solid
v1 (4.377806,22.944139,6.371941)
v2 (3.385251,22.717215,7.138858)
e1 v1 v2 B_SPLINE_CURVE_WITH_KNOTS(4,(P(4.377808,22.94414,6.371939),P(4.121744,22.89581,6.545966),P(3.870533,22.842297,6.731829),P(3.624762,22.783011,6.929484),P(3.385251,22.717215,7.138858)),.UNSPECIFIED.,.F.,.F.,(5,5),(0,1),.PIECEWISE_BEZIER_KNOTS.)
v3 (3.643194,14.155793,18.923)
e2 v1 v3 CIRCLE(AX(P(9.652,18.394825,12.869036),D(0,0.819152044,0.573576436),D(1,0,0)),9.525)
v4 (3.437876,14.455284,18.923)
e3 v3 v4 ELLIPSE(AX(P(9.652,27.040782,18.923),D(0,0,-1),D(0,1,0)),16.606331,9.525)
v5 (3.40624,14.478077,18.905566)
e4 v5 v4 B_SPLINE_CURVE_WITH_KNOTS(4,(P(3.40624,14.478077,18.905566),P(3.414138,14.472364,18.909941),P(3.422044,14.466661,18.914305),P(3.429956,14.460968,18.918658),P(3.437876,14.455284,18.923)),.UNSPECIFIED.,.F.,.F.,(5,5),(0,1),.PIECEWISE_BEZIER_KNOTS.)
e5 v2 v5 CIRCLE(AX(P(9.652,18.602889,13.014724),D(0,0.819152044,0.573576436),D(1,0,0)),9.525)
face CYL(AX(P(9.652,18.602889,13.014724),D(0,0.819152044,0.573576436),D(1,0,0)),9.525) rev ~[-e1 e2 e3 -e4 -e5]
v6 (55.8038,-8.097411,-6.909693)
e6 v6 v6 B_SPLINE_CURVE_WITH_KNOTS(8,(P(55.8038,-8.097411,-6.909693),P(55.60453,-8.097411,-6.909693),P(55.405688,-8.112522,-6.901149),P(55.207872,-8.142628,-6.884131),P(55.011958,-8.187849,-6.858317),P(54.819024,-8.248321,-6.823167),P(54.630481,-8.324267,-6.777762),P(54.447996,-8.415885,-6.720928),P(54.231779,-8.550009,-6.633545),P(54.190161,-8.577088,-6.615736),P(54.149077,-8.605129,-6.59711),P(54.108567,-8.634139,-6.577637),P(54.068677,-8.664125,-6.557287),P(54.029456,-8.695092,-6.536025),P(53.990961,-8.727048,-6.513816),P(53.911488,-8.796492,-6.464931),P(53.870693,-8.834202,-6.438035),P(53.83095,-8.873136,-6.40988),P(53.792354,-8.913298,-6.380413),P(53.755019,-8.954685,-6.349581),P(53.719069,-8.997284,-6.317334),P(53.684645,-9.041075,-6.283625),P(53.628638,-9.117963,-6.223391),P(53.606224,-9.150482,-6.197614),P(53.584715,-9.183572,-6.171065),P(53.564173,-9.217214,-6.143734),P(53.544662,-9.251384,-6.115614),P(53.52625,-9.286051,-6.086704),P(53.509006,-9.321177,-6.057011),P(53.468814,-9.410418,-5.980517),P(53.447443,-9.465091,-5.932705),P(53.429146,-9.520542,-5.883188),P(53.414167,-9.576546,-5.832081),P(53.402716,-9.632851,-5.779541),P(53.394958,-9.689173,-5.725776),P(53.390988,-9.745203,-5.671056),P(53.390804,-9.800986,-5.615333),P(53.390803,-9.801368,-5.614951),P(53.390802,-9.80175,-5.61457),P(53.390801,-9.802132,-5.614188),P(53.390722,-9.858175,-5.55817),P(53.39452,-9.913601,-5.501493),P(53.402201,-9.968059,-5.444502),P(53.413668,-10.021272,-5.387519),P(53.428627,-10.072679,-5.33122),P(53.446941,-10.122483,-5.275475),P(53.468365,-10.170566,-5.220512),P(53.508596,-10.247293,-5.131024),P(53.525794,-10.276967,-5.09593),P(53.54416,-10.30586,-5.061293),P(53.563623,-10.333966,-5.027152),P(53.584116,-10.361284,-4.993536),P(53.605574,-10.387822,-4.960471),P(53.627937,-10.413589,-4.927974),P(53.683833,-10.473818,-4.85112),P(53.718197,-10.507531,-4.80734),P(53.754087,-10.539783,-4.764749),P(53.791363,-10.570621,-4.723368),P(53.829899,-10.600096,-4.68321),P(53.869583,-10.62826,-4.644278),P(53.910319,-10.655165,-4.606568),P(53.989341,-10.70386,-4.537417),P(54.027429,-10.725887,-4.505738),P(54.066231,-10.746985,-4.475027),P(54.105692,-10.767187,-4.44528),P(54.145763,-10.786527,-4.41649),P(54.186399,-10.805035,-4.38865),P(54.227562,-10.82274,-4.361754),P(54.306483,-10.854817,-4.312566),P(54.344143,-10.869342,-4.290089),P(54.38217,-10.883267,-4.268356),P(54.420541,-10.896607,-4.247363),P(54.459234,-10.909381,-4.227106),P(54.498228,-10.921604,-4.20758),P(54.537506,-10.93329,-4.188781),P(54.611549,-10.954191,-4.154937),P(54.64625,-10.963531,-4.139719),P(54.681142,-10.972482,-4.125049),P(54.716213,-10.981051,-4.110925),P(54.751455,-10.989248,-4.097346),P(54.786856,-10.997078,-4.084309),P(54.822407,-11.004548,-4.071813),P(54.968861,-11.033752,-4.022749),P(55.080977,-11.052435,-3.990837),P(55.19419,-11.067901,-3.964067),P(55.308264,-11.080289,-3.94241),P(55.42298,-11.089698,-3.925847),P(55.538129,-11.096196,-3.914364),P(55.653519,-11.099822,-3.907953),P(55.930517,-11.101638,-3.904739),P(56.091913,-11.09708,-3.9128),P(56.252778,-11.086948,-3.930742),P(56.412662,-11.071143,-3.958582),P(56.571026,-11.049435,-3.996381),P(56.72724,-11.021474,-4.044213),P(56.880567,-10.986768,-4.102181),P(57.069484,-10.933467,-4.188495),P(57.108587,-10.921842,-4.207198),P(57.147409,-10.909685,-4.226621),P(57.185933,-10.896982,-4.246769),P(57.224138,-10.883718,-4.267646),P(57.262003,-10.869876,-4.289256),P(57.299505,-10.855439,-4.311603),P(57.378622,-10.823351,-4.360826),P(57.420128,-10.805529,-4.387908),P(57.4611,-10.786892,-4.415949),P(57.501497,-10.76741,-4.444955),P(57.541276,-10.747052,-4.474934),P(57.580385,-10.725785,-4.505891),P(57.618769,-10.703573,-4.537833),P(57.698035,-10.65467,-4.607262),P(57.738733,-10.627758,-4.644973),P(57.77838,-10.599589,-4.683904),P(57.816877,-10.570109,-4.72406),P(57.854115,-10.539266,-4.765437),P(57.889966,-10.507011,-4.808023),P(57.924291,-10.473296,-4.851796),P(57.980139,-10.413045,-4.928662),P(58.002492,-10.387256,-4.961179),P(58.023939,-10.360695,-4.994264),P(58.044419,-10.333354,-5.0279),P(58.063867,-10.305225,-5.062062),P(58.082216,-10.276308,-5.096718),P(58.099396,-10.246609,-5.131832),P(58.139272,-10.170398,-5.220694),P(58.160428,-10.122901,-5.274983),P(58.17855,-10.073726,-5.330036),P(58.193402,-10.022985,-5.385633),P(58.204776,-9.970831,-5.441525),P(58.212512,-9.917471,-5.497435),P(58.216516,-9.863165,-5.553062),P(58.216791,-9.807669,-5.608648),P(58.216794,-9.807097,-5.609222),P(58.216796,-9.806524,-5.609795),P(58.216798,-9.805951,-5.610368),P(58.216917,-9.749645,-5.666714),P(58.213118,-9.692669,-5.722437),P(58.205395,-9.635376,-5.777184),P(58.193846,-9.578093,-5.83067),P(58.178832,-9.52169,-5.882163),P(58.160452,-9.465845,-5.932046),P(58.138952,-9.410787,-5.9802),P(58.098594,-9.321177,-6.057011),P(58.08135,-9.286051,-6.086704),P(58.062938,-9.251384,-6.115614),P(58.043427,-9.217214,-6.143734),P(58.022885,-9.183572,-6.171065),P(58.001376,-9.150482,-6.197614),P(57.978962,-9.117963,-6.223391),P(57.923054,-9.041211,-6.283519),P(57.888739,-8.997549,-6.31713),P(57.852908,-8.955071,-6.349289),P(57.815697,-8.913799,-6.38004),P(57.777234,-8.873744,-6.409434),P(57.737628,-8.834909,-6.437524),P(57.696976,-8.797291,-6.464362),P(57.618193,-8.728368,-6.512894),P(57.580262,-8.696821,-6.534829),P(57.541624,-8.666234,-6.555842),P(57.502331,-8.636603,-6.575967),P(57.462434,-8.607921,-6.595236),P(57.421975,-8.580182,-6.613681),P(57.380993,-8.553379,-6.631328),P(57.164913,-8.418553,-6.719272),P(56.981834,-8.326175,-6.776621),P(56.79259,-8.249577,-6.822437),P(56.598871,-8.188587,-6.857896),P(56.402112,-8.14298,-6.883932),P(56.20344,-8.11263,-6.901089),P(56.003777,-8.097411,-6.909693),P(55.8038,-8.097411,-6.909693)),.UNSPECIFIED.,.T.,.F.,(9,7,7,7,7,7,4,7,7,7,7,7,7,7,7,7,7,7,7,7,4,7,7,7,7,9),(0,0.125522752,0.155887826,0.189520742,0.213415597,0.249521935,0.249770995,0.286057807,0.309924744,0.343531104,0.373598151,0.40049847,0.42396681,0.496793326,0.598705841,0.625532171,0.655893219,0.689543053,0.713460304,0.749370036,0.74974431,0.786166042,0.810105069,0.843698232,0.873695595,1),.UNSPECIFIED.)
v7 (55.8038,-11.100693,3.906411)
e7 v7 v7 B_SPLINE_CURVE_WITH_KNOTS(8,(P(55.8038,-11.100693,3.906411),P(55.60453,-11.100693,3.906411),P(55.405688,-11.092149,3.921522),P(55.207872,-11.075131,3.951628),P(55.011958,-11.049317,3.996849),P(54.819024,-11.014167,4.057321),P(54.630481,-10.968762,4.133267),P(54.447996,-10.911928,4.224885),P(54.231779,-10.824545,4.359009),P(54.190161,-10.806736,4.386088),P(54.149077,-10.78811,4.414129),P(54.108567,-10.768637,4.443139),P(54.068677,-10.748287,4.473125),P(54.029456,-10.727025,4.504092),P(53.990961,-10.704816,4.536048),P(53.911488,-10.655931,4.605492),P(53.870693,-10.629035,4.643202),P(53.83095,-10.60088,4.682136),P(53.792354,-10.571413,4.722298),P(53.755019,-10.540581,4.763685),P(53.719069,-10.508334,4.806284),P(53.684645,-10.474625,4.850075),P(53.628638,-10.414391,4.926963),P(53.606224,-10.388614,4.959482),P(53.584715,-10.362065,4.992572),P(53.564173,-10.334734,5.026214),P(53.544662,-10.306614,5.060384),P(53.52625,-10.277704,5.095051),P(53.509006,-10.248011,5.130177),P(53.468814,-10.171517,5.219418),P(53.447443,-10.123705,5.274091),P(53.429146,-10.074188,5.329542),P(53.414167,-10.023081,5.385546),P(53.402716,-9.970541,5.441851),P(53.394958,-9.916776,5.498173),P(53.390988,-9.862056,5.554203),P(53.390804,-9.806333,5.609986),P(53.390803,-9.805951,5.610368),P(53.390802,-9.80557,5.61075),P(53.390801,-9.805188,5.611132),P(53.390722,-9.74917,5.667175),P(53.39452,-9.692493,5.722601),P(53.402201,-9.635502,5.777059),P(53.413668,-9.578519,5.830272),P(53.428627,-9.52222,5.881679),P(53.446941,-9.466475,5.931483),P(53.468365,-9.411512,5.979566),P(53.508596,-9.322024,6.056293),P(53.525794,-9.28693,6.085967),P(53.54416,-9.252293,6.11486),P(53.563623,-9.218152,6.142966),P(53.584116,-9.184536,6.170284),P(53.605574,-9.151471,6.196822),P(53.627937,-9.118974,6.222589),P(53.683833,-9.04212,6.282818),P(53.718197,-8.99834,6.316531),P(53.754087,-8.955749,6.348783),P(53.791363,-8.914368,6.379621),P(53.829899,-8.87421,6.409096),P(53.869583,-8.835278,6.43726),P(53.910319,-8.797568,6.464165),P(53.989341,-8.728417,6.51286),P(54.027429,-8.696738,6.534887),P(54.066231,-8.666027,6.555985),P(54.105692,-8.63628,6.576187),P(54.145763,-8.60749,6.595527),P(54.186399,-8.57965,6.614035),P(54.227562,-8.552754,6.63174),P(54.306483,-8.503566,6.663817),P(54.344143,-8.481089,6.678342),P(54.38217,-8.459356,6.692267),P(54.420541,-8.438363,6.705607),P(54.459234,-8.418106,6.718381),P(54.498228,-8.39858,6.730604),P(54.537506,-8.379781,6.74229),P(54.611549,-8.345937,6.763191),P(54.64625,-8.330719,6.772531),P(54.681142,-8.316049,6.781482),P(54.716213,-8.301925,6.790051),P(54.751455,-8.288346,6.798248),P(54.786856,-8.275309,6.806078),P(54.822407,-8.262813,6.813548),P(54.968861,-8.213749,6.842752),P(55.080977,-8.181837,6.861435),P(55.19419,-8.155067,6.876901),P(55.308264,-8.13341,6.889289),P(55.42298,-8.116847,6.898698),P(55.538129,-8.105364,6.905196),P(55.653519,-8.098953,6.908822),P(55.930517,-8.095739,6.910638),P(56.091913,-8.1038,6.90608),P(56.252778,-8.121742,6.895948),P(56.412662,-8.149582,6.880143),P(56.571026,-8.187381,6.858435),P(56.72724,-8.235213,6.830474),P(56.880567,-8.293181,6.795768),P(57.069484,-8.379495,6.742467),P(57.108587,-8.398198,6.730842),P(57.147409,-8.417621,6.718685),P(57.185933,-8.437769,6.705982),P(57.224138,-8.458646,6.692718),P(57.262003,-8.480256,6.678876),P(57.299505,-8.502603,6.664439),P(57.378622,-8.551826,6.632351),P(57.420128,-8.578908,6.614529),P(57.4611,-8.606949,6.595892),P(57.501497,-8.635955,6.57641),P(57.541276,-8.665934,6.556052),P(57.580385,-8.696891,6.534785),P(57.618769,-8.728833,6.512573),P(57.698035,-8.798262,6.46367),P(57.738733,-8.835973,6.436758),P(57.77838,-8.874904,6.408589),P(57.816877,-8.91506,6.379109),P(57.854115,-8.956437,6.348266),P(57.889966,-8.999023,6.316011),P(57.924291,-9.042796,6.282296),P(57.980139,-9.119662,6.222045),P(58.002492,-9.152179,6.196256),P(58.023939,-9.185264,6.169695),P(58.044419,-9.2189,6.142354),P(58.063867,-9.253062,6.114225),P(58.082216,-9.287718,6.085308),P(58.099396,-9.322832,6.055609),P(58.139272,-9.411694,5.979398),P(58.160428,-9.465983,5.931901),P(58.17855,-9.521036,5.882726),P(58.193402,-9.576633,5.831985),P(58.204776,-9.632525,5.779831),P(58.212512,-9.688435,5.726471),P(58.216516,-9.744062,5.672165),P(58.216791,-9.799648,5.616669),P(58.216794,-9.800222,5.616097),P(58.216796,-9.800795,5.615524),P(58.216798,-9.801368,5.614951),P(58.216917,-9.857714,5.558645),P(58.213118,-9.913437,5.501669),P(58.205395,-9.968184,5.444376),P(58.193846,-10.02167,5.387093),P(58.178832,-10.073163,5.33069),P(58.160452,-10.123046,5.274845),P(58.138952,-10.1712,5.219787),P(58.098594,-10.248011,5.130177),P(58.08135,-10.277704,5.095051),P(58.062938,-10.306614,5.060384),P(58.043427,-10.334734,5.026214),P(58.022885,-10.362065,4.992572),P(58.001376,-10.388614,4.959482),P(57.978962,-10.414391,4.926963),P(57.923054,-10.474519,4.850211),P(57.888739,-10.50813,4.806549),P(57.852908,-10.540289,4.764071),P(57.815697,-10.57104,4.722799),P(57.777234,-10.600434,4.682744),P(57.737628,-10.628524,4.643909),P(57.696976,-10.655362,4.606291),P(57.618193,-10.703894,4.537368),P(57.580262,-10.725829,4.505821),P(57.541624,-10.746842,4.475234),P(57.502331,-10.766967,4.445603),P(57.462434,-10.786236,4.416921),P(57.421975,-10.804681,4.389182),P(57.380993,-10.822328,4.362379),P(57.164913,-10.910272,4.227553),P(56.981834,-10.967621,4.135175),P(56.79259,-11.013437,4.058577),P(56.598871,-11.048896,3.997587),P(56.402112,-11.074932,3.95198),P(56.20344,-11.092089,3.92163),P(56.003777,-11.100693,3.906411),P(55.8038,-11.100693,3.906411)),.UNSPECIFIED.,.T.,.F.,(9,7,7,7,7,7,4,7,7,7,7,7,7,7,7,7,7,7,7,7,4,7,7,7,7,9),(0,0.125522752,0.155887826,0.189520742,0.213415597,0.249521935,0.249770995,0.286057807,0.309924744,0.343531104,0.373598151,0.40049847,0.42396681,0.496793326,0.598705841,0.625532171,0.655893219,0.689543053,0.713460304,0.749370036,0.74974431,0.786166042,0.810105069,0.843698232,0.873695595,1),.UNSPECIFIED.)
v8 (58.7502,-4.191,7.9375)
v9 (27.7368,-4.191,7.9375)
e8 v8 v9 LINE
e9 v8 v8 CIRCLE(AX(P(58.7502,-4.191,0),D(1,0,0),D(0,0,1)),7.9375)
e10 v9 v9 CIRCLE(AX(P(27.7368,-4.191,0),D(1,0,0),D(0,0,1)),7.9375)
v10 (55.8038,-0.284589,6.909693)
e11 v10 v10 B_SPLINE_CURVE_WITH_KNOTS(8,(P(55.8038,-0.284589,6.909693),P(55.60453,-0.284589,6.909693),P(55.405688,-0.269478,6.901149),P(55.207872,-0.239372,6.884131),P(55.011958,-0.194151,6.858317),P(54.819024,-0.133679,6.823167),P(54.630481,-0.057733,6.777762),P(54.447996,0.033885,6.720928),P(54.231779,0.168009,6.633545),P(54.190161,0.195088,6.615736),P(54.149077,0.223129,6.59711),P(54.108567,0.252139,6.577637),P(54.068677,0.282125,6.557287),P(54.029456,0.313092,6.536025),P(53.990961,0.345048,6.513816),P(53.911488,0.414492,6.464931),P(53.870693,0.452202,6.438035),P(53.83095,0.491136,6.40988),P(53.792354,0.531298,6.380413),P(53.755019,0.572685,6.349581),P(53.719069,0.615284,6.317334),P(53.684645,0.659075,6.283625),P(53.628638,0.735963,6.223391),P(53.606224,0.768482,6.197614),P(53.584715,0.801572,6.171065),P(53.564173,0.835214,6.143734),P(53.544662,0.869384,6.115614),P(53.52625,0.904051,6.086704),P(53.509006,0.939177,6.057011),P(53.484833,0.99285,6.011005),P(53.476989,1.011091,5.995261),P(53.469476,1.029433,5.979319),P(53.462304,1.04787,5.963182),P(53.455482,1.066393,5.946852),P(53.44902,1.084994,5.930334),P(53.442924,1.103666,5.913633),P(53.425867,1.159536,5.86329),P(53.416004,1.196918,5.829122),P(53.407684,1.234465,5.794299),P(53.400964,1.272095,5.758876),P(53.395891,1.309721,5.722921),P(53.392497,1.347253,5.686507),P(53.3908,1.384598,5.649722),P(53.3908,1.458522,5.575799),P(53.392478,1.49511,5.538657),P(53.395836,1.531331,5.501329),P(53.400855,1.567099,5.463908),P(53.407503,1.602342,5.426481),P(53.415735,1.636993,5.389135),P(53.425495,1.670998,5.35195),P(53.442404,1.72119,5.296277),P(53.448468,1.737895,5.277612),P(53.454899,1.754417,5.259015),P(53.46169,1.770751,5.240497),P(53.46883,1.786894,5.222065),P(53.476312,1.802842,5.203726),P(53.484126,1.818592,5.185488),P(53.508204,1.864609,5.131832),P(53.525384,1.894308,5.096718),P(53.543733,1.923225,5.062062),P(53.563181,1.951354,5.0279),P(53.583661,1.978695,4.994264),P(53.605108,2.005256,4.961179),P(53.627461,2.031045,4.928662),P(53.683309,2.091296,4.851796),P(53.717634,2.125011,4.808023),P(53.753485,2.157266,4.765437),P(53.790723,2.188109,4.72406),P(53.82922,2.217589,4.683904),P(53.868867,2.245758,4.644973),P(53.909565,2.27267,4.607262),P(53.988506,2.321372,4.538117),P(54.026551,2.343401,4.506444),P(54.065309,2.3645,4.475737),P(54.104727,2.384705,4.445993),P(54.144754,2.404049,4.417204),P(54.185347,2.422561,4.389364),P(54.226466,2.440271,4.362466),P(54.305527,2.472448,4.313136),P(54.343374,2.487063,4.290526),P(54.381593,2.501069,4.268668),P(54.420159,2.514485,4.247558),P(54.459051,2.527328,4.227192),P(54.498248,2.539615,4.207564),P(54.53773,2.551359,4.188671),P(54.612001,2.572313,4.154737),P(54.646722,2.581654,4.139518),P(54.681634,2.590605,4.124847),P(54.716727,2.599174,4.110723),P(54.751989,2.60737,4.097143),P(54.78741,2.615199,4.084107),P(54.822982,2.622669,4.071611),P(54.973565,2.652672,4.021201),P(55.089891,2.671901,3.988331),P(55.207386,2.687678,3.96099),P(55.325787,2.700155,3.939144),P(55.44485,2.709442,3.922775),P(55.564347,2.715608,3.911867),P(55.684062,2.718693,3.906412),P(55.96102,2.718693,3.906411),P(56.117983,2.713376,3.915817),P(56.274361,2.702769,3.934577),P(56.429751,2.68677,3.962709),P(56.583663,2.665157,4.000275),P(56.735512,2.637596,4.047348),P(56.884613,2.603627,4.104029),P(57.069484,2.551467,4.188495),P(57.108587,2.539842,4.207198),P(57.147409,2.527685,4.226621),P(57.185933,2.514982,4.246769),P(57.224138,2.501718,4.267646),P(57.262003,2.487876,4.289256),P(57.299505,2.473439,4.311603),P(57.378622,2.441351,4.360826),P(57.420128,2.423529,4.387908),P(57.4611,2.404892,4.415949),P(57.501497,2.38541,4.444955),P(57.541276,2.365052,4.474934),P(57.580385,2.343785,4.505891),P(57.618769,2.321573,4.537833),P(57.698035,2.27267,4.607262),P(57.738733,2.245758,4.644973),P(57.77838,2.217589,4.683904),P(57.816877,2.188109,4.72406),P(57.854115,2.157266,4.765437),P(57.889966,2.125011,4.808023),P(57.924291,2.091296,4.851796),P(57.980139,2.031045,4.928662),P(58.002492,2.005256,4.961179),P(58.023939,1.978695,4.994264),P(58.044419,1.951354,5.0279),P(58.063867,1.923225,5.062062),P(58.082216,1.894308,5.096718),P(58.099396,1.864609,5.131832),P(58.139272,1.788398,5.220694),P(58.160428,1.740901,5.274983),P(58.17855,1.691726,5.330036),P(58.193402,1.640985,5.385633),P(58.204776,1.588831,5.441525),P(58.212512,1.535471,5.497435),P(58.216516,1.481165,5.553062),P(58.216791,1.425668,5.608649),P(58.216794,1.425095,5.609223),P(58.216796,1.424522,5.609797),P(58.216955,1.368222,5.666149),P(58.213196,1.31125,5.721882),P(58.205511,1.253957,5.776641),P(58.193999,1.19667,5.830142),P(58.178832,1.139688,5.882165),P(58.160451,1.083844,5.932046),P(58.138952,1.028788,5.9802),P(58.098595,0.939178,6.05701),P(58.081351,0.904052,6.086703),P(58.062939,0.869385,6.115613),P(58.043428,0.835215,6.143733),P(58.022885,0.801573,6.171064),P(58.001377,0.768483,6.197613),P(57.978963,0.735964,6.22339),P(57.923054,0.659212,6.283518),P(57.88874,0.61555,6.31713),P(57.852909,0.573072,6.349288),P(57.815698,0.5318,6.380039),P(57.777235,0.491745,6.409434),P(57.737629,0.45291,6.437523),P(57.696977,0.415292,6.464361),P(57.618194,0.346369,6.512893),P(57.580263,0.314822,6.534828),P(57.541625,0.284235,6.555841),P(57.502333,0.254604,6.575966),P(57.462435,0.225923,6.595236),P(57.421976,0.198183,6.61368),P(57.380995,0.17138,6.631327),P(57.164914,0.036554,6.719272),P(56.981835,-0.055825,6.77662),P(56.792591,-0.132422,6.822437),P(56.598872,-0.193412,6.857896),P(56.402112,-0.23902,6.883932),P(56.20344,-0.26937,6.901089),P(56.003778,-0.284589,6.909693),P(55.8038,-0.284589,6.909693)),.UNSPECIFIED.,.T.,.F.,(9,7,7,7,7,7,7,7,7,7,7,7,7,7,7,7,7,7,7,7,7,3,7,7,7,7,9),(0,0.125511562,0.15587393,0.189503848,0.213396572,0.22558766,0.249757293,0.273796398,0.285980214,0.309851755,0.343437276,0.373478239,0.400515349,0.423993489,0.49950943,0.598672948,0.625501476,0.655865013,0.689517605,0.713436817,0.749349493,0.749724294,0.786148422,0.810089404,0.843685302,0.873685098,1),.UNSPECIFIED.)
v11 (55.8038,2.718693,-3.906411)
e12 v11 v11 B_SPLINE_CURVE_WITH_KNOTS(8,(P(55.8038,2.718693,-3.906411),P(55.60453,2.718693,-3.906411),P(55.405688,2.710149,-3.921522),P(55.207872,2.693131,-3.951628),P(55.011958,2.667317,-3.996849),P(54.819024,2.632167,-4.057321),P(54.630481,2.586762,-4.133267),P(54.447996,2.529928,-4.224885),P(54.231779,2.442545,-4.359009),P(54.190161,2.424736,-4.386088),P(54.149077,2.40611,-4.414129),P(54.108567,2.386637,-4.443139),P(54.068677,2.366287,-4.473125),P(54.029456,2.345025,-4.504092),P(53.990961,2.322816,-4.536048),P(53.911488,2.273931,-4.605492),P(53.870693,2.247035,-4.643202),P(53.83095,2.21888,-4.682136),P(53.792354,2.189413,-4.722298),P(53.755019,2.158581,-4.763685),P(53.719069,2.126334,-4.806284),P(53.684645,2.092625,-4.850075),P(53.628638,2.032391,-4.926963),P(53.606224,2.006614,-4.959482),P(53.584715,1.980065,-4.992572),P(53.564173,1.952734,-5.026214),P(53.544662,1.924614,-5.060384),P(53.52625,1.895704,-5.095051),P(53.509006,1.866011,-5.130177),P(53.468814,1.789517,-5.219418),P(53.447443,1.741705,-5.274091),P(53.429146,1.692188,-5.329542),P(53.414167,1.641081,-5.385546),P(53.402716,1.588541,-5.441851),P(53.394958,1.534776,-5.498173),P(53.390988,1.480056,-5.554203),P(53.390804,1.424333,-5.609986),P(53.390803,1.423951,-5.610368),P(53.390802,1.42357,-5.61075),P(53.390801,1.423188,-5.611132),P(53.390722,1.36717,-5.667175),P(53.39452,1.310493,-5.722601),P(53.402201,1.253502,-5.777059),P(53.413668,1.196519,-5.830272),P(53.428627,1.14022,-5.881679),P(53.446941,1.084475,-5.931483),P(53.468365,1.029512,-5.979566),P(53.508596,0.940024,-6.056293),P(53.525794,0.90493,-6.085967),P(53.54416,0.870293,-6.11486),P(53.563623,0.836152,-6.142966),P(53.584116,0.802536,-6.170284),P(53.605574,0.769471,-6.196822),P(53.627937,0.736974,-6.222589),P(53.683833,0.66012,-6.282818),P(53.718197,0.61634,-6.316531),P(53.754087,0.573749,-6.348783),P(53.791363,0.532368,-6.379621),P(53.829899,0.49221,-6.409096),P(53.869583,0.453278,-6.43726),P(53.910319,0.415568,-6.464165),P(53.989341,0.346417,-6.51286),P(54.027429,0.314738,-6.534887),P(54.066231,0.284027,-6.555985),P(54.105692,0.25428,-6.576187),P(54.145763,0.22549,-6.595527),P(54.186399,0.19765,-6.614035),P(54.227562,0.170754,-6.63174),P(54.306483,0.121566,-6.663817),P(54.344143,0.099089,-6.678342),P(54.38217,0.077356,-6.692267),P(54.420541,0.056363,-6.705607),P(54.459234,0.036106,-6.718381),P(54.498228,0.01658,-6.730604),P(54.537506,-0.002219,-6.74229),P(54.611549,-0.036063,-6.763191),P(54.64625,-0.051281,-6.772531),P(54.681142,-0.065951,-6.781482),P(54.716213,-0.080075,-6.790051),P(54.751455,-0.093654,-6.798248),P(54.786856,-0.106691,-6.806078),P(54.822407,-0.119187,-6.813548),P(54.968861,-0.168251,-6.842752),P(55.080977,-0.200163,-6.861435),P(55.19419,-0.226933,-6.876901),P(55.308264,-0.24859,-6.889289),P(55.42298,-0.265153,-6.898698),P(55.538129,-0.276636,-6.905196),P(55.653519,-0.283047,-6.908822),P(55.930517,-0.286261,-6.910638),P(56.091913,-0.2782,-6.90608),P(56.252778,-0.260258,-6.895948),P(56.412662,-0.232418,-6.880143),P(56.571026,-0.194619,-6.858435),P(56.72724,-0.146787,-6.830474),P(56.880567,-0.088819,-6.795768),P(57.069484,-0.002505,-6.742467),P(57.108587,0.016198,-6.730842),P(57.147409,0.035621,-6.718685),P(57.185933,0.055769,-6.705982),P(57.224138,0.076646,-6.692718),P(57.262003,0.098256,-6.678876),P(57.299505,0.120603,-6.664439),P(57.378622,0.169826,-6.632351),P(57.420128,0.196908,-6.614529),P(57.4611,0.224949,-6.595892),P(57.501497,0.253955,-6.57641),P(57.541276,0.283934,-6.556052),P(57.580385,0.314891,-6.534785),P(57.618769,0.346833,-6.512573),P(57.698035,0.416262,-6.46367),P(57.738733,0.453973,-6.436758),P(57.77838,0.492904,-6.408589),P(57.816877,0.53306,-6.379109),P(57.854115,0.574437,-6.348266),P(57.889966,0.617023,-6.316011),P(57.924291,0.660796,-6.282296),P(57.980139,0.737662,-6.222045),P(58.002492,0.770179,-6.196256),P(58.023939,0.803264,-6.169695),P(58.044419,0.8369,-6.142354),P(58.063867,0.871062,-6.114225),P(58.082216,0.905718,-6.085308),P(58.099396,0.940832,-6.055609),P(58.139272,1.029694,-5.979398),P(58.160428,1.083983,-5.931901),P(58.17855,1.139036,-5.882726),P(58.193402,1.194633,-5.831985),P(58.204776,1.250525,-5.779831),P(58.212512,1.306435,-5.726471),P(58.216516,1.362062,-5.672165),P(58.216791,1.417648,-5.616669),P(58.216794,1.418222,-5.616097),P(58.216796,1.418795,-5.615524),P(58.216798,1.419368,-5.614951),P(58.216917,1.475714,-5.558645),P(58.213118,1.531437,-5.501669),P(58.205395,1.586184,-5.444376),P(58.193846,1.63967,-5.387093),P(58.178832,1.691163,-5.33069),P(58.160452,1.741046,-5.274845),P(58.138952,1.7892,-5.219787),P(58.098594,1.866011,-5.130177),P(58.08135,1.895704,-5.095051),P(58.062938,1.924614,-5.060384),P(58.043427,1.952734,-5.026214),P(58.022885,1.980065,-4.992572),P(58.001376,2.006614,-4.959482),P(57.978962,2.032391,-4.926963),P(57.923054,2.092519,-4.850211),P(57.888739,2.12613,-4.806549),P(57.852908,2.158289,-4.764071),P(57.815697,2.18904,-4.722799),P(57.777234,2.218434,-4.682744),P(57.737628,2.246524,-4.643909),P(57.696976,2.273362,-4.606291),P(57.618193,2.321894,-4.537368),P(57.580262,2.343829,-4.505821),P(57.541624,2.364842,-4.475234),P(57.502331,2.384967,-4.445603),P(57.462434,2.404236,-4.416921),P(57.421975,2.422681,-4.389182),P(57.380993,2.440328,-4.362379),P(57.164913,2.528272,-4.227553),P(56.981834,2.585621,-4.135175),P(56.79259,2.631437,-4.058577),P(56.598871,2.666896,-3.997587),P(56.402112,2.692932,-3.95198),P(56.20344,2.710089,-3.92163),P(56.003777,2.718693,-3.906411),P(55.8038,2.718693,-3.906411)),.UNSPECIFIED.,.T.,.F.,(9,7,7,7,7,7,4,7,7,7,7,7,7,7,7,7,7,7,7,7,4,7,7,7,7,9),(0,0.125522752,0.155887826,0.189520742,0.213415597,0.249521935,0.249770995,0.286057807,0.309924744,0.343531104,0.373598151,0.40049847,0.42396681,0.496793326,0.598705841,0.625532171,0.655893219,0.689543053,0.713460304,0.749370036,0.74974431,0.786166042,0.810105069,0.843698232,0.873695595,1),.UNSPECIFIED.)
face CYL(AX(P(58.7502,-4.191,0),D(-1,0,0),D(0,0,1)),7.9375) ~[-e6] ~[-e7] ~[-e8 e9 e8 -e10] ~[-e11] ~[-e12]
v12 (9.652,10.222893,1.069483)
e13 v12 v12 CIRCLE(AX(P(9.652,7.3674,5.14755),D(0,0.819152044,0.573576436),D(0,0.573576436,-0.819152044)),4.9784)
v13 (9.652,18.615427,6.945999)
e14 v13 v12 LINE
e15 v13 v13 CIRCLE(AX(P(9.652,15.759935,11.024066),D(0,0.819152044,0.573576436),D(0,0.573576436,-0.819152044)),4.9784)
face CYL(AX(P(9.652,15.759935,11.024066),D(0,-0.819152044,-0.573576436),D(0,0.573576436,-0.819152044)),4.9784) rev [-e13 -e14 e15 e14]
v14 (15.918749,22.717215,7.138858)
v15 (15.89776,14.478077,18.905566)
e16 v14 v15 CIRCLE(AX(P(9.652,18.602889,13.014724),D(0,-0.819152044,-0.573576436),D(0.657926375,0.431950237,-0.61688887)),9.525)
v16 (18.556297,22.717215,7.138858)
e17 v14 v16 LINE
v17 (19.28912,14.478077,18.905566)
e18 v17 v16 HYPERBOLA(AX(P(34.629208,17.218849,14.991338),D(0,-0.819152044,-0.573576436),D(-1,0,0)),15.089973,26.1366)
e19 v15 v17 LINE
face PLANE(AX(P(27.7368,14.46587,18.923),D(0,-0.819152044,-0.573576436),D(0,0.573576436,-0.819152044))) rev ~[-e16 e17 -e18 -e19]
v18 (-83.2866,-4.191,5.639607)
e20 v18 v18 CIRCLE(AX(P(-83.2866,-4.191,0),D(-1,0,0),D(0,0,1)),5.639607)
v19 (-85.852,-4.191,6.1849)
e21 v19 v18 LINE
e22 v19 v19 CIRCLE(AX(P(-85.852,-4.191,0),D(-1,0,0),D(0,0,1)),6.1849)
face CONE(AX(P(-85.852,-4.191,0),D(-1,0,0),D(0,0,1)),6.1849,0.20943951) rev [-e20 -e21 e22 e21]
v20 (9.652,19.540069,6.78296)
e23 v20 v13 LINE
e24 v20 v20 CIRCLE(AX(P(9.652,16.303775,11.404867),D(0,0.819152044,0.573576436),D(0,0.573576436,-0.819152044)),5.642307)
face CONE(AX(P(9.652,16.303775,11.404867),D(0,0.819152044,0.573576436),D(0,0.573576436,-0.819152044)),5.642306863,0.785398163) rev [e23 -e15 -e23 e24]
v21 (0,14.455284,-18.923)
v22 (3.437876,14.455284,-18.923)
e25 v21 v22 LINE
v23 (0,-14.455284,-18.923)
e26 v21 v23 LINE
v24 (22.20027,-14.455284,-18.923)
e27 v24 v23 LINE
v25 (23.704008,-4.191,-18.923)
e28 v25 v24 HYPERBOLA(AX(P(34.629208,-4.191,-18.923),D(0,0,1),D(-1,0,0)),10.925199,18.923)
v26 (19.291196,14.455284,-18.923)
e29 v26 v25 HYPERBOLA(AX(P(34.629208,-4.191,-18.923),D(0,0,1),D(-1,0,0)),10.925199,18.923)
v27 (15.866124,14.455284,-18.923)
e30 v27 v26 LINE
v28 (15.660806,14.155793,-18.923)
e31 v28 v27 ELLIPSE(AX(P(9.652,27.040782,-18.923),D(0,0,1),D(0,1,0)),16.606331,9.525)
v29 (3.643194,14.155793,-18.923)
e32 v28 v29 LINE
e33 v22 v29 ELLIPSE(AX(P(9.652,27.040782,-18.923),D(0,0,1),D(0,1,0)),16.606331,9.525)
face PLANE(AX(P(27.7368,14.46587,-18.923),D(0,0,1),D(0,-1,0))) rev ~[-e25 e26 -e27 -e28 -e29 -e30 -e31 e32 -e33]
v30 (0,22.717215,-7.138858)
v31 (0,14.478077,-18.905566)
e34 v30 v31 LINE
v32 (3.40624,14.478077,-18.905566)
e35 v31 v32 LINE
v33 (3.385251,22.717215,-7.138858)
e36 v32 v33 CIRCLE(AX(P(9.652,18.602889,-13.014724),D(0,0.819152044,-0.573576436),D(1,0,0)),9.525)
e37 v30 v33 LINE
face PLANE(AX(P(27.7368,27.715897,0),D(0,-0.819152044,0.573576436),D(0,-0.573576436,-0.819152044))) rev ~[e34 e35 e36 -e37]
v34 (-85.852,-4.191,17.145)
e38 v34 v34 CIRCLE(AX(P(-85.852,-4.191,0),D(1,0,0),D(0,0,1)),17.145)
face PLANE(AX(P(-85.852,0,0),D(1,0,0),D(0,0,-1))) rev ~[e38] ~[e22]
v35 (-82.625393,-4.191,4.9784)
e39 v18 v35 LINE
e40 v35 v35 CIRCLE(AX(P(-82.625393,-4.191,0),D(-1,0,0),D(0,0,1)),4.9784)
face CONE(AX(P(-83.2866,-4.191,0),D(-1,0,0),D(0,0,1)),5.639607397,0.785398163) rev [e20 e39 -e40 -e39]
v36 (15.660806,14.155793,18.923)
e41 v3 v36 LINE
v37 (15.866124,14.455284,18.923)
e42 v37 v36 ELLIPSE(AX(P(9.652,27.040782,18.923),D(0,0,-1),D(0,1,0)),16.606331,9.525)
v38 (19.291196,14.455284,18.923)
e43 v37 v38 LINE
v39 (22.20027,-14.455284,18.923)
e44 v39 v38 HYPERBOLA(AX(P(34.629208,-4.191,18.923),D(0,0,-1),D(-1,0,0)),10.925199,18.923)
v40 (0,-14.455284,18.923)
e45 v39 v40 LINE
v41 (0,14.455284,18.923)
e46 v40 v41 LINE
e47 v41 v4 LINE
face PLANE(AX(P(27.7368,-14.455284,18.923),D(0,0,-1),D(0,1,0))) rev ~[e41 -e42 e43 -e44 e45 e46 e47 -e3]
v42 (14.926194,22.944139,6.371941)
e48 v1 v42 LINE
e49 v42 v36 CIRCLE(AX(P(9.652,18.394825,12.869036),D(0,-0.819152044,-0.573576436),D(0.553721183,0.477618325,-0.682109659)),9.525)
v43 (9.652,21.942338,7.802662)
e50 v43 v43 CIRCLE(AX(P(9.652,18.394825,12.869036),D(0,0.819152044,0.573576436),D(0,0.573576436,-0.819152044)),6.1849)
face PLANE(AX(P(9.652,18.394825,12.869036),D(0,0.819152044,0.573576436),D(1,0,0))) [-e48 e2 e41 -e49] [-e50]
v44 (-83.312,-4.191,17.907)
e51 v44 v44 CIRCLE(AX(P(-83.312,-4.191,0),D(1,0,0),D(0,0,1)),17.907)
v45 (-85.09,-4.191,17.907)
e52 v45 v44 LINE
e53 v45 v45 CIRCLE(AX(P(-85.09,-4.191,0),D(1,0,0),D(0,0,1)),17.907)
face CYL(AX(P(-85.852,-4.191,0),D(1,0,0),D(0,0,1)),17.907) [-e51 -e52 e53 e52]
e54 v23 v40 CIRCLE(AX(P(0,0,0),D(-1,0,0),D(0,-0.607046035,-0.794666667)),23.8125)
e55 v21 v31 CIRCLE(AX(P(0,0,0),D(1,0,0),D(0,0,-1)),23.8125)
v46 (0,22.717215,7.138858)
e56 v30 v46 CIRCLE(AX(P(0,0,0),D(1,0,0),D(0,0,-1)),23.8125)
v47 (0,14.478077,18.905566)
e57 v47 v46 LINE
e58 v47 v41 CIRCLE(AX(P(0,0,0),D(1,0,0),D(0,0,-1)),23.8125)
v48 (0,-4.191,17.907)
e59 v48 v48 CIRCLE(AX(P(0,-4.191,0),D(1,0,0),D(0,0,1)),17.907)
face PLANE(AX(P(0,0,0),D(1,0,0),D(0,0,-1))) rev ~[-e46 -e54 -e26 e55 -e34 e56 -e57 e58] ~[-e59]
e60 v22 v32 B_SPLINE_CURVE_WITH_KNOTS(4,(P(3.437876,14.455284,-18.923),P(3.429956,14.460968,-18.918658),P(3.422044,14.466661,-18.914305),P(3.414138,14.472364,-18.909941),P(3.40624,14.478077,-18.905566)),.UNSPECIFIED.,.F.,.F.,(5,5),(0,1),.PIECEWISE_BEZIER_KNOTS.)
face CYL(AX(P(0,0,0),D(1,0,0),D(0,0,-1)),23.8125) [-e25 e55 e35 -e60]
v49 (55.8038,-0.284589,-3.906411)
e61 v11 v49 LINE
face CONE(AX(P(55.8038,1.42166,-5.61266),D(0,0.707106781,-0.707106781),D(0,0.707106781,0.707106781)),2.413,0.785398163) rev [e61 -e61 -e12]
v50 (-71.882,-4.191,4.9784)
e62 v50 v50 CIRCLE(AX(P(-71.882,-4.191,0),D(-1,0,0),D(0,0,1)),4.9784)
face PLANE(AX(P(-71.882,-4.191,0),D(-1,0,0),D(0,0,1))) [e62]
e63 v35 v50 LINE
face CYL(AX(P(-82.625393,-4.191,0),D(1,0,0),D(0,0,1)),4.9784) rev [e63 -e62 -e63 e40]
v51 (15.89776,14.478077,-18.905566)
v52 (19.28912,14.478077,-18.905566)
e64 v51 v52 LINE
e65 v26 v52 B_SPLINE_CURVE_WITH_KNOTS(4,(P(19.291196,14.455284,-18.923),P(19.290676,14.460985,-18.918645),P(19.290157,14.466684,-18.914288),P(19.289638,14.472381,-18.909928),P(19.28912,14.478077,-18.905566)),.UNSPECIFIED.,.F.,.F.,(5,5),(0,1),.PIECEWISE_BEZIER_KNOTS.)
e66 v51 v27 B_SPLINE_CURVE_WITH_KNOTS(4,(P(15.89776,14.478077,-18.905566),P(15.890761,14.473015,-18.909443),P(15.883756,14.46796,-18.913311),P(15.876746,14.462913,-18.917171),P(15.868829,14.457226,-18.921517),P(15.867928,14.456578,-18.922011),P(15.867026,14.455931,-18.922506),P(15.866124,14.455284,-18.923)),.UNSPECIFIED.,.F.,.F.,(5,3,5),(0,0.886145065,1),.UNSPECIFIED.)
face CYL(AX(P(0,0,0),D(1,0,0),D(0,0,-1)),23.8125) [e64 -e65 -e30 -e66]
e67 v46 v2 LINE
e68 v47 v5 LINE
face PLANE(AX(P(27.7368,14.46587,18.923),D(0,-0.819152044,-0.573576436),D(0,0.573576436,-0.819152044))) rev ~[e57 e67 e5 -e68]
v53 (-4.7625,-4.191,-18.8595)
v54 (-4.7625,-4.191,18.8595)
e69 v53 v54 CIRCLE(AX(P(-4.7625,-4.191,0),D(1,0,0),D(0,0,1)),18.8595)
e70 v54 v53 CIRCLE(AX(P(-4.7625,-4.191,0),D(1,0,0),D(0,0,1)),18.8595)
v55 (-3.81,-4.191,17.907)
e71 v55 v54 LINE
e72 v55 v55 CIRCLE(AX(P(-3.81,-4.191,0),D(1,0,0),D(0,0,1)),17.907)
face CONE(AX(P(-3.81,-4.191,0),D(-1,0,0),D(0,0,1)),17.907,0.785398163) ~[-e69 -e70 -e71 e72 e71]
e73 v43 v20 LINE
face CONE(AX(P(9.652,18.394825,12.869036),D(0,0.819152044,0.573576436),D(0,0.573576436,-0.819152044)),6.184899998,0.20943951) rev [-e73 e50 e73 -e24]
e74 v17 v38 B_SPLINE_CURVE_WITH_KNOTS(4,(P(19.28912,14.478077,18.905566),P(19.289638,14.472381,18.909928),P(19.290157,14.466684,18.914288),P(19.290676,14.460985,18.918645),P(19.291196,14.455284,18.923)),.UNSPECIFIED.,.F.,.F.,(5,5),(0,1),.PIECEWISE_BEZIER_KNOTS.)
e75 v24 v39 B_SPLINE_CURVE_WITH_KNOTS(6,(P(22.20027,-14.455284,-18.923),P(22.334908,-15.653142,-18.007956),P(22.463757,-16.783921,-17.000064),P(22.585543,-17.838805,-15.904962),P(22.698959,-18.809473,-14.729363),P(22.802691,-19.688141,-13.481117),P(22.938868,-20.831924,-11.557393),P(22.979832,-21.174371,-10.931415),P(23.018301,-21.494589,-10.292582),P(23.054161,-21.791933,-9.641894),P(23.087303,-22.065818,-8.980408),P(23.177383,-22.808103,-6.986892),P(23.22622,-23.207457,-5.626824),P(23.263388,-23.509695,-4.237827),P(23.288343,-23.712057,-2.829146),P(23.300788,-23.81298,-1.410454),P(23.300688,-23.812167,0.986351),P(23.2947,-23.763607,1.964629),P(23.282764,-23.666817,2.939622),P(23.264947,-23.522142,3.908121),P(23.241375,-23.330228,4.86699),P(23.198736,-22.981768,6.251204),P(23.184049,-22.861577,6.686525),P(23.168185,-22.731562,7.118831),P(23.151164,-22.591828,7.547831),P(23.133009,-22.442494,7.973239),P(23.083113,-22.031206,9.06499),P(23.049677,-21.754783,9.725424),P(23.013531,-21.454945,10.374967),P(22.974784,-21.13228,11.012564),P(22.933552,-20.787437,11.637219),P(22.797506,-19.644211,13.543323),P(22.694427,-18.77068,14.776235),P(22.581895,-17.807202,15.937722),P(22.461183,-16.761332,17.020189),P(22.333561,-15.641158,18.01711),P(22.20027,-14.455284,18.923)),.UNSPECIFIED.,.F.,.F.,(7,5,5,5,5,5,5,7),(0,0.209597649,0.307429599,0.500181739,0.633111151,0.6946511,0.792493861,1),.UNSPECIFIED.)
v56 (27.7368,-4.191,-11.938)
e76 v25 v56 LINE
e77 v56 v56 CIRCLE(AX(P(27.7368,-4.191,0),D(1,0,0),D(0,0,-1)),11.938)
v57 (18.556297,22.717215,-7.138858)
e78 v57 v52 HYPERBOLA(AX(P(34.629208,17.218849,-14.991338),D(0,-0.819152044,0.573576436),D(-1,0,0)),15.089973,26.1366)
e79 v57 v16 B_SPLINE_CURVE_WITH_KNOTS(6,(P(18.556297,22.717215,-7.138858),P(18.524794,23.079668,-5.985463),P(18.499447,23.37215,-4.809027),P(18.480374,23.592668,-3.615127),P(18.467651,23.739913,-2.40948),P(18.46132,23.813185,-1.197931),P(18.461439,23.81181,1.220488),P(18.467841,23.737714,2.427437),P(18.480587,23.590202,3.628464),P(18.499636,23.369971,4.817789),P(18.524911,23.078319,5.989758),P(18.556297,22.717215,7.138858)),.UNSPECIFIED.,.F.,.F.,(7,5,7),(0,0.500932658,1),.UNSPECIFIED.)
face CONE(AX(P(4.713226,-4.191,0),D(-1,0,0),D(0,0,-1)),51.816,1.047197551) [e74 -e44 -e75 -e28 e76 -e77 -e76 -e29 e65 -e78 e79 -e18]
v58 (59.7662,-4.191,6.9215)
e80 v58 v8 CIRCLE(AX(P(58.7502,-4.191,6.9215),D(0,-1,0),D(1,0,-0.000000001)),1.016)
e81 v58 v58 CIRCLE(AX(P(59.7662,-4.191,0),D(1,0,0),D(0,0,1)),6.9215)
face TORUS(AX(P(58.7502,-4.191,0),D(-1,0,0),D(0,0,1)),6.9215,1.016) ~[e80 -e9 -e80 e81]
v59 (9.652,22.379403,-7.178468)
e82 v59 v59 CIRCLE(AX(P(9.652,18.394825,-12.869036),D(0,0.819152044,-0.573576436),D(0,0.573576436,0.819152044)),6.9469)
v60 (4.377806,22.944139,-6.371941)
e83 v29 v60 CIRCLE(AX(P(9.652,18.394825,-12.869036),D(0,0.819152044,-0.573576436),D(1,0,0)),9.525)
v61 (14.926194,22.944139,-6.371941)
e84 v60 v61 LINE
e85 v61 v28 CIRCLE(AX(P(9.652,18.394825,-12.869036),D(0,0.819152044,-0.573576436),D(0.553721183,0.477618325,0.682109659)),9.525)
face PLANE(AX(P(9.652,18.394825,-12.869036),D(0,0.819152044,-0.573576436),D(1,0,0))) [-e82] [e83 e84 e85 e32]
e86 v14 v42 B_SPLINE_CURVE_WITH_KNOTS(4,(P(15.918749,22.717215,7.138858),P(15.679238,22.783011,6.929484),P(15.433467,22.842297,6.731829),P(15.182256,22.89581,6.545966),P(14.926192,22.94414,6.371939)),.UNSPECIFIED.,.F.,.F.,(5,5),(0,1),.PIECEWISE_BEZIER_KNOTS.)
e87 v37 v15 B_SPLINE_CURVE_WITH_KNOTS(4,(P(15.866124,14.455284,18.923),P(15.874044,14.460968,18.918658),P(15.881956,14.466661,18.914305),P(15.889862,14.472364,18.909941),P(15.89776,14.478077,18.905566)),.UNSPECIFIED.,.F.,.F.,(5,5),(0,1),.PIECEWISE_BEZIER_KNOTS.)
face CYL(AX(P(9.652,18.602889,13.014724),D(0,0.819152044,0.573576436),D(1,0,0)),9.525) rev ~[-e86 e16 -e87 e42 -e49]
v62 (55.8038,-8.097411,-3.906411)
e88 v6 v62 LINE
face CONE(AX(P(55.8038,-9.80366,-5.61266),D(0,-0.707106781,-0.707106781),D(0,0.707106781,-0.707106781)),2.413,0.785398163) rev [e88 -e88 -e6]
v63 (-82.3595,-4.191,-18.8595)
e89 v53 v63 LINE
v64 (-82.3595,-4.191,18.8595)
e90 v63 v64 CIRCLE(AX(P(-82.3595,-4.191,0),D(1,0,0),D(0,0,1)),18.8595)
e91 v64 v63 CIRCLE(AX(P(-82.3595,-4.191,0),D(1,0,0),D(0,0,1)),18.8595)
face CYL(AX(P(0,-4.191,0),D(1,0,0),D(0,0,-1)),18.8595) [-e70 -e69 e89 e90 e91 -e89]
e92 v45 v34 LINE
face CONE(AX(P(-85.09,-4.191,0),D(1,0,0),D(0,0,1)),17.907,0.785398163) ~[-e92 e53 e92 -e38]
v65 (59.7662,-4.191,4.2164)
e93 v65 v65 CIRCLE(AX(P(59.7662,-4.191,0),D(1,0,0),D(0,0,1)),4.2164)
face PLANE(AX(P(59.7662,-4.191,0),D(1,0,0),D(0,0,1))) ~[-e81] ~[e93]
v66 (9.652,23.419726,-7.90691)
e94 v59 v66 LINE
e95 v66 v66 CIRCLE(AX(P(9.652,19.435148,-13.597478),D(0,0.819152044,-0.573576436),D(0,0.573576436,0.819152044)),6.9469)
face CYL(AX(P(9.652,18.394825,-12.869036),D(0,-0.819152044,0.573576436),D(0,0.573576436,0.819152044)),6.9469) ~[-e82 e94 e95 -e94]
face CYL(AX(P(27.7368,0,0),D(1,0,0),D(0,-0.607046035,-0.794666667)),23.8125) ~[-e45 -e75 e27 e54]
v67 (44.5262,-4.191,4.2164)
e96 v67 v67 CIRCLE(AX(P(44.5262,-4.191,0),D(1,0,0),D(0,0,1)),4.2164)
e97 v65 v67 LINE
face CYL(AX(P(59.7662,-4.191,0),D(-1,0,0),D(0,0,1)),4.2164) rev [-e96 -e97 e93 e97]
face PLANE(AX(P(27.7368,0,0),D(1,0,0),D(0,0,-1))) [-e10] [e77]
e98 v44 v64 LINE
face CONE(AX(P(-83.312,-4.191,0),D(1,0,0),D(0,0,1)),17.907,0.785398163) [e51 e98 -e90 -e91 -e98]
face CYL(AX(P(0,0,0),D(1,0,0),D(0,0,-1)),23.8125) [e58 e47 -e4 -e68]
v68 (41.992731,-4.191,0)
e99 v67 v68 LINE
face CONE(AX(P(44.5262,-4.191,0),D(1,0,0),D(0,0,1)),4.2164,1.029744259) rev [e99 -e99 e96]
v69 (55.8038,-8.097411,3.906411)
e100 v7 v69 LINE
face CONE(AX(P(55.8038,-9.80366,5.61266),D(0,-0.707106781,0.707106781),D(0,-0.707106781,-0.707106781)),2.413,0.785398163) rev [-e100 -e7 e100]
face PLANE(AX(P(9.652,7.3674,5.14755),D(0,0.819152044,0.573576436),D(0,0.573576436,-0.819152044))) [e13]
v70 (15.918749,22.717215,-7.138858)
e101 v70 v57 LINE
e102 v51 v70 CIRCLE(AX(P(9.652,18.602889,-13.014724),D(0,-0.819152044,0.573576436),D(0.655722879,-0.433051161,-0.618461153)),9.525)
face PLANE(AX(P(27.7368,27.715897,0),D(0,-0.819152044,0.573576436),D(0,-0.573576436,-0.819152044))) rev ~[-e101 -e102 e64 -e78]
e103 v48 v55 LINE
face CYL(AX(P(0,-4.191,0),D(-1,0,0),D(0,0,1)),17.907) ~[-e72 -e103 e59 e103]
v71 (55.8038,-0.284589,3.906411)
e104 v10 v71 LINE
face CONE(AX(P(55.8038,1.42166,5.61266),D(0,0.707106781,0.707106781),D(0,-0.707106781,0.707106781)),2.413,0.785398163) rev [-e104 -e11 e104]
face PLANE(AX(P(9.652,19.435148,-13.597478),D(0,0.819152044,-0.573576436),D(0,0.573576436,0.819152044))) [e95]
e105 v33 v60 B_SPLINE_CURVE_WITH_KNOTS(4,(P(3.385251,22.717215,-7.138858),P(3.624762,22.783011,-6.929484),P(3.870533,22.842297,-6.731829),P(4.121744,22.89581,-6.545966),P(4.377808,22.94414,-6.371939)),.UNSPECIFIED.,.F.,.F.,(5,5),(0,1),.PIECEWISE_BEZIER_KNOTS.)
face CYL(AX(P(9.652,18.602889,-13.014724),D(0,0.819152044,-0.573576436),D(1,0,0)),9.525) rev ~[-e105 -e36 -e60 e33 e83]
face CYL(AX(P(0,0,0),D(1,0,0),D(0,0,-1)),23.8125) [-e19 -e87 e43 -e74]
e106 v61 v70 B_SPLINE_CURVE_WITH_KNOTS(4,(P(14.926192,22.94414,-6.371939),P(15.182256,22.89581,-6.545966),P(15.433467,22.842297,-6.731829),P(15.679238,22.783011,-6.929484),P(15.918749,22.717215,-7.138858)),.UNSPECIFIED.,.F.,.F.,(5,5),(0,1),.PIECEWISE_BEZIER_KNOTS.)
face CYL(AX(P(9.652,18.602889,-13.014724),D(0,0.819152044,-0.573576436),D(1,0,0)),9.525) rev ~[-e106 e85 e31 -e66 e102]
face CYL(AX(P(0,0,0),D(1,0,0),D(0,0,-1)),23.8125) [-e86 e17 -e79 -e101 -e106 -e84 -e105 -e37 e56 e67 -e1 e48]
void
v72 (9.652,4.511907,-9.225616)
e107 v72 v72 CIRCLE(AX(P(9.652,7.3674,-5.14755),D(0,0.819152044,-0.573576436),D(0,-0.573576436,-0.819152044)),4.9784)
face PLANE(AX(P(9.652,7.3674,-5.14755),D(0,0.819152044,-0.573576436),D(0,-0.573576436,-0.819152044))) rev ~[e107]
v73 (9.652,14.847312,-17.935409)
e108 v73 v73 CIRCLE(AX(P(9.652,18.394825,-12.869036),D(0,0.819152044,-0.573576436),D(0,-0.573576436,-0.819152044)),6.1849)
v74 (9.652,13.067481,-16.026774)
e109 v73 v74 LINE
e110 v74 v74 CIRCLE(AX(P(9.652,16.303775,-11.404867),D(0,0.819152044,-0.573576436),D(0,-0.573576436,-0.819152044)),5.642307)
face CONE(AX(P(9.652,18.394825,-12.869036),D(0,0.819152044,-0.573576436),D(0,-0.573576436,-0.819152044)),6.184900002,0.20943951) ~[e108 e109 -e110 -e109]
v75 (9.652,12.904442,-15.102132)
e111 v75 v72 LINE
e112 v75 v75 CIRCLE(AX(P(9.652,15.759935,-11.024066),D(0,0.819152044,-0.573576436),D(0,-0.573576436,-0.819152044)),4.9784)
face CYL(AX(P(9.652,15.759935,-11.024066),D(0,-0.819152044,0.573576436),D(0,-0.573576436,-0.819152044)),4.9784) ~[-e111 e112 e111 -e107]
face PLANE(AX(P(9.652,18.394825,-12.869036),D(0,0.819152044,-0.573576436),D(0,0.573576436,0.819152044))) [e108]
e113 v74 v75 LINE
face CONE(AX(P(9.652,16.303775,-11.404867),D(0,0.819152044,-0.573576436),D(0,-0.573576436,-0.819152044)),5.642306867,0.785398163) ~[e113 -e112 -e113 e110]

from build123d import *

# Parameters (mm, degrees)
SKETCH1_R           = 23.8125
EXTRUDE1_DEPTH      = 27.7368
EXTRUDE1_DEPTH_BACK = 85.852
CUT_EXTRUDE1_REACH  = 87.852
SKETCH2_R           = 23.8125
SKETCH2_R_2         = 18.8595
CUT_EXTRUDE3_START  = -27.7368
SKETCH4_R           = 28.575
CUT_EXTRUDE3_DEPTH  = 27.7368
SKETCH18_R          = 9.525
CUT_EXTRUDE4_DEPTH  = 0.254
SKETCH19_R          = 9.525
CUT_EXTRUDE5_DEPTH  = 0.254
CHAMFER1_SIZE       = 0.762
CIRPATTERN1_COUNT   = 4
SKETCH20_R          = 6.9469
EXTRUDE2_DEPTH      = 1.27


with BuildPart() as part:
    # Sketch1 → Extrude1 (new body, two sides)
    with BuildSketch(Plane(origin=(0, 0, 0), x_dir=(0, 0, -1), z_dir=(1, 0, 0))) as extrude1_sk:
        Circle(SKETCH1_R)
    extrude(amount=EXTRUDE1_DEPTH)
    extrude(extrude1_sk.sketch, amount=-EXTRUDE1_DEPTH_BACK)

    # Sketch2 → Cut-Extrude1 (cut, up to next)
    with BuildSketch(Plane(origin=(0, 0, 0), x_dir=(0, 0, -1), z_dir=(1, 0, 0)), mode=Mode.PRIVATE) as cut_extrude1_sk1:
        Circle(SKETCH2_R)
        with Locations((0, -4.191)):
            Circle(SKETCH2_R_2, mode=Mode.SUBTRACT)
    cut_extrude1_tool1 = extrude(cut_extrude1_sk1.sketch, amount=-CUT_EXTRUDE1_REACH, mode=Mode.PRIVATE) & part.part
    add(cut_extrude1_tool1.solids().sort_by_distance((0, 0, 23.138981))[0], mode=Mode.SUBTRACT)

    # Sketch4 → Cut-Extrude3 (cut)
    with BuildSketch(Plane.ZY.offset(CUT_EXTRUDE3_START)):
        Circle(SKETCH4_R)
        with BuildLine():
            Line((18.923, -14.455283714), (18.923, 14.465869871))
            Line((18.923, 14.465869871), (0, 27.715897117))
            Line((0, 27.715897117), (-18.923, 14.465869871))
            Line((-18.923, 14.465869871), (-18.923, -14.455283714))
            ThreePointArc((-18.923, -14.455283714), (0, -23.8125), (18.923, -14.455283714))
        make_face(mode=Mode.SUBTRACT)
    extrude(amount=CUT_EXTRUDE3_DEPTH, mode=Mode.SUBTRACT)

    # Sketch6 → Cut-Revolve2 (revolve, cut)
    with BuildSketch(Plane.XY, mode=Mode.PRIVATE) as cut_revolve2_sk:
        Polygon((4.713225965, 47.625), (27.7368, 7.747), (27.7368, 47.625), align=None)
    revolve(cut_revolve2_sk.sketch.rotate(Axis((3.612847264, -4.191, 0), (1, 0, 0)), 270), axis=Axis((3.612847264, -4.191, 0), (1, 0, 0)), mode=Mode.SUBTRACT)  # turned: the seam where the file's is

    # S2D0002 → Cut-Revolve3 (revolve, cut)
    with BuildSketch(Plane(origin=(9.652, 18.394824642, 12.869035589), x_dir=(0, 0.573576436, -0.819152044), z_dir=(1, 0, 0))):
        Polygon((0, 0), (6.1849, 0), (5.642306865, -2.5527), (4.9784, -3.216606865), (4.9784, -13.462), (0, -13.462), align=None)
    revolve(axis=Axis((9.652, 6.816028581, 4.761475303), (0, 0.819152044, 0.573576436)), mode=Mode.SUBTRACT)

    # Sketch8 → Cut-Revolve4 (revolve, cut)
    with BuildSketch(Plane(origin=(9.652, 18.394824642, -12.869035589), x_dir=(0, -0.573576436, -0.819152044), z_dir=(1, 0, 0))):
        Polygon((0, 0), (6.1849, 0), (5.642306865, -2.5527), (4.9784, -3.216606865), (4.9784, -13.462), (0, -13.462), align=None)
    revolve(axis=Axis((9.652, 6.816028581, -4.761475303), (0, 0.819152044, -0.573576436)), mode=Mode.SUBTRACT)

    # Sketch18 → Cut-Extrude4 (cut)
    with BuildSketch(Plane(origin=(0, 18.59764611, 13.022211999), x_dir=(1, 0, 0), z_dir=(0, 0.819152044, 0.573576436))):
        with Locations((9.652, 0.009141155)):
            Circle(SKETCH18_R)
    extrude(amount=-CUT_EXTRUDE4_DEPTH, mode=Mode.SUBTRACT)

    # Sketch19 → Cut-Extrude5 (cut)
    with BuildSketch(Plane(origin=(0, 18.59764611, -13.022211999), x_dir=(1, 0, 0), z_dir=(0, 0.819152044, -0.573576436))):
        with Locations((9.652, -0.009141155)):
            Circle(SKETCH19_R)
    extrude(amount=-CUT_EXTRUDE5_DEPTH, mode=Mode.SUBTRACT)

    # Sketch10 → Cut-Revolve6 (revolve, cut)
    with BuildSketch(Plane.XY, mode=Mode.PRIVATE) as cut_revolve6_sk:
        Polygon((0, 14.6685), (0, 13.716), (-3.81, 13.716), (-4.7625, 14.6685), align=None)
    revolve(cut_revolve6_sk.sketch.rotate(Axis((-5.000625, -4.191, 0), (1, 0, 0)), 90), axis=Axis((-5.000625, -4.191, 0), (1, 0, 0)), mode=Mode.SUBTRACT)  # turned: the seam where the file's is

    # Sketch12 → Cut-Revolve8 (revolve, cut)
    with BuildSketch(Plane.XY, mode=Mode.PRIVATE) as cut_revolve8_sk:
        Polygon((-85.852, 14.6685), (-85.852, 13.716), (-83.312, 13.716), (-82.3595, 14.6685), align=None)
    revolve(cut_revolve8_sk.sketch.rotate(Axis((-63.674625, -4.191, 0), (1, 0, 0)), 90), axis=Axis((-63.674625, -4.191, 0), (1, 0, 0)), mode=Mode.SUBTRACT)  # turned: the seam where the file's is

    # Chamfer1
    chamfer1_edges = [part.edges().sort_by_distance(p)[0] for p in [
        (-85.852, -4.191, -17.907),
    ]]
    chamfer(chamfer1_edges, length=CHAMFER1_SIZE)

    # Sketch13 → Revolve1 (revolve)
    with BuildSketch(Plane(origin=(0, 0, 0), x_dir=(0, -1, 0), z_dir=(0, 0, 1)), mode=Mode.PRIVATE) as revolve1_sk:
        with BuildLine():
            Line((4.191, 27.7368), (4.191, 59.7662))
            Line((4.191, 59.7662), (11.1125, 59.7662))
            ThreePointArc((11.1125, 59.7662), (11.83092049, 59.46862049), (12.1285, 58.7502))
            Line((12.1285, 58.7502), (12.1285, 27.7368))
            Line((12.1285, 27.7368), (4.191, 27.7368))
        make_face()
    revolve(revolve1_sk.sketch.rotate(Axis((26.44521, -4.191, 0), (1, 0, 0)), 270), axis=Axis((26.44521, -4.191, 0), (1, 0, 0)))  # turned: the seam where the file's is

    # S2D0001 → Cut-Revolve9 (revolve, cut)
    with BuildSketch(Plane(origin=(54.6354, -8.4074, 0), x_dir=(0, -1, 0), z_dir=(0, 0, 1)), mode=Mode.PRIVATE) as cut_revolve9_sk:
        Polygon((0, 5.1308), (0, -10.1092), (-4.2164, -12.642668714), (-4.2164, 5.1308), align=None)
    revolve(cut_revolve9_sk.sketch.rotate(Axis((35.97325785, -4.191, 0), (1, 0, 0)), 270), axis=Axis((35.97325785, -4.191, 0), (1, 0, 0)), mode=Mode.SUBTRACT)  # turned: the seam where the file's is

    # Sketch16 → Cut-Revolve10 (revolve, cut)
    with BuildSketch(Plane(origin=(50.673, 1.421660076, -5.612660076), x_dir=(-1, 0, 0), z_dir=(0, -0.707106781, -0.707106781)), mode=Mode.PRIVATE) as cut_revolve10_sk:
        Polygon((-5.1308, 0), (-2.7178, 0), (-5.1308, -2.413), align=None)
    cut_revolve10 = revolve(cut_revolve10_sk.sketch.rotate(Axis((55.8038, -2.1640922, -2.0269078), (0, 0.707106781, -0.707106781)), 90), axis=Axis((55.8038, -2.1640922, -2.0269078), (0, 0.707106781, -0.707106781)), mode=Mode.SUBTRACT)  # turned: the seam where the file's is

    # CirPattern1: Cut-Revolve10 ×4 about axis
    cirpattern1_axis = Axis((26.44521, -4.191, 0), (-1, 0, 0))
    for i in range(1, CIRPATTERN1_COUNT):
        add(cut_revolve10.rotate(cirpattern1_axis, i * 360 / CIRPATTERN1_COUNT), mode=Mode.SUBTRACT)

    # Sketch20 → Extrude2 (add)
    with BuildSketch(Plane(origin=(0, 18.389581491, -12.876523585), x_dir=(1, 0, 0), z_dir=(0, 0.819152044, -0.573576436))):
        with Locations(Location((9.652, -0.009141155, 0), (0, 0, 270))):  # turned: the seam where the file's is
            Circle(SKETCH20_R)
    extrude(amount=EXTRUDE2_DEPTH)

    # Sketch21 → Cut-Revolve11 (revolve, cut)
    with BuildSketch(Plane.XY, mode=Mode.PRIVATE) as cut_revolve11_sk:
        Polygon((-71.882, -4.191), (-85.852, -4.191), (-85.852, -10.3759), (-83.2866, -9.830607397), (-82.625392603, -9.1694), (-71.882, -9.1694), align=None)
    revolve(cut_revolve11_sk.sketch.rotate(Axis((-37.427759391, -4.191, 0), (-1, 0, 0)), 90), axis=Axis((-37.427759391, -4.191, 0), (-1, 0, 0)), mode=Mode.SUBTRACT)  # turned: the seam where the file's is


solid = part.part
